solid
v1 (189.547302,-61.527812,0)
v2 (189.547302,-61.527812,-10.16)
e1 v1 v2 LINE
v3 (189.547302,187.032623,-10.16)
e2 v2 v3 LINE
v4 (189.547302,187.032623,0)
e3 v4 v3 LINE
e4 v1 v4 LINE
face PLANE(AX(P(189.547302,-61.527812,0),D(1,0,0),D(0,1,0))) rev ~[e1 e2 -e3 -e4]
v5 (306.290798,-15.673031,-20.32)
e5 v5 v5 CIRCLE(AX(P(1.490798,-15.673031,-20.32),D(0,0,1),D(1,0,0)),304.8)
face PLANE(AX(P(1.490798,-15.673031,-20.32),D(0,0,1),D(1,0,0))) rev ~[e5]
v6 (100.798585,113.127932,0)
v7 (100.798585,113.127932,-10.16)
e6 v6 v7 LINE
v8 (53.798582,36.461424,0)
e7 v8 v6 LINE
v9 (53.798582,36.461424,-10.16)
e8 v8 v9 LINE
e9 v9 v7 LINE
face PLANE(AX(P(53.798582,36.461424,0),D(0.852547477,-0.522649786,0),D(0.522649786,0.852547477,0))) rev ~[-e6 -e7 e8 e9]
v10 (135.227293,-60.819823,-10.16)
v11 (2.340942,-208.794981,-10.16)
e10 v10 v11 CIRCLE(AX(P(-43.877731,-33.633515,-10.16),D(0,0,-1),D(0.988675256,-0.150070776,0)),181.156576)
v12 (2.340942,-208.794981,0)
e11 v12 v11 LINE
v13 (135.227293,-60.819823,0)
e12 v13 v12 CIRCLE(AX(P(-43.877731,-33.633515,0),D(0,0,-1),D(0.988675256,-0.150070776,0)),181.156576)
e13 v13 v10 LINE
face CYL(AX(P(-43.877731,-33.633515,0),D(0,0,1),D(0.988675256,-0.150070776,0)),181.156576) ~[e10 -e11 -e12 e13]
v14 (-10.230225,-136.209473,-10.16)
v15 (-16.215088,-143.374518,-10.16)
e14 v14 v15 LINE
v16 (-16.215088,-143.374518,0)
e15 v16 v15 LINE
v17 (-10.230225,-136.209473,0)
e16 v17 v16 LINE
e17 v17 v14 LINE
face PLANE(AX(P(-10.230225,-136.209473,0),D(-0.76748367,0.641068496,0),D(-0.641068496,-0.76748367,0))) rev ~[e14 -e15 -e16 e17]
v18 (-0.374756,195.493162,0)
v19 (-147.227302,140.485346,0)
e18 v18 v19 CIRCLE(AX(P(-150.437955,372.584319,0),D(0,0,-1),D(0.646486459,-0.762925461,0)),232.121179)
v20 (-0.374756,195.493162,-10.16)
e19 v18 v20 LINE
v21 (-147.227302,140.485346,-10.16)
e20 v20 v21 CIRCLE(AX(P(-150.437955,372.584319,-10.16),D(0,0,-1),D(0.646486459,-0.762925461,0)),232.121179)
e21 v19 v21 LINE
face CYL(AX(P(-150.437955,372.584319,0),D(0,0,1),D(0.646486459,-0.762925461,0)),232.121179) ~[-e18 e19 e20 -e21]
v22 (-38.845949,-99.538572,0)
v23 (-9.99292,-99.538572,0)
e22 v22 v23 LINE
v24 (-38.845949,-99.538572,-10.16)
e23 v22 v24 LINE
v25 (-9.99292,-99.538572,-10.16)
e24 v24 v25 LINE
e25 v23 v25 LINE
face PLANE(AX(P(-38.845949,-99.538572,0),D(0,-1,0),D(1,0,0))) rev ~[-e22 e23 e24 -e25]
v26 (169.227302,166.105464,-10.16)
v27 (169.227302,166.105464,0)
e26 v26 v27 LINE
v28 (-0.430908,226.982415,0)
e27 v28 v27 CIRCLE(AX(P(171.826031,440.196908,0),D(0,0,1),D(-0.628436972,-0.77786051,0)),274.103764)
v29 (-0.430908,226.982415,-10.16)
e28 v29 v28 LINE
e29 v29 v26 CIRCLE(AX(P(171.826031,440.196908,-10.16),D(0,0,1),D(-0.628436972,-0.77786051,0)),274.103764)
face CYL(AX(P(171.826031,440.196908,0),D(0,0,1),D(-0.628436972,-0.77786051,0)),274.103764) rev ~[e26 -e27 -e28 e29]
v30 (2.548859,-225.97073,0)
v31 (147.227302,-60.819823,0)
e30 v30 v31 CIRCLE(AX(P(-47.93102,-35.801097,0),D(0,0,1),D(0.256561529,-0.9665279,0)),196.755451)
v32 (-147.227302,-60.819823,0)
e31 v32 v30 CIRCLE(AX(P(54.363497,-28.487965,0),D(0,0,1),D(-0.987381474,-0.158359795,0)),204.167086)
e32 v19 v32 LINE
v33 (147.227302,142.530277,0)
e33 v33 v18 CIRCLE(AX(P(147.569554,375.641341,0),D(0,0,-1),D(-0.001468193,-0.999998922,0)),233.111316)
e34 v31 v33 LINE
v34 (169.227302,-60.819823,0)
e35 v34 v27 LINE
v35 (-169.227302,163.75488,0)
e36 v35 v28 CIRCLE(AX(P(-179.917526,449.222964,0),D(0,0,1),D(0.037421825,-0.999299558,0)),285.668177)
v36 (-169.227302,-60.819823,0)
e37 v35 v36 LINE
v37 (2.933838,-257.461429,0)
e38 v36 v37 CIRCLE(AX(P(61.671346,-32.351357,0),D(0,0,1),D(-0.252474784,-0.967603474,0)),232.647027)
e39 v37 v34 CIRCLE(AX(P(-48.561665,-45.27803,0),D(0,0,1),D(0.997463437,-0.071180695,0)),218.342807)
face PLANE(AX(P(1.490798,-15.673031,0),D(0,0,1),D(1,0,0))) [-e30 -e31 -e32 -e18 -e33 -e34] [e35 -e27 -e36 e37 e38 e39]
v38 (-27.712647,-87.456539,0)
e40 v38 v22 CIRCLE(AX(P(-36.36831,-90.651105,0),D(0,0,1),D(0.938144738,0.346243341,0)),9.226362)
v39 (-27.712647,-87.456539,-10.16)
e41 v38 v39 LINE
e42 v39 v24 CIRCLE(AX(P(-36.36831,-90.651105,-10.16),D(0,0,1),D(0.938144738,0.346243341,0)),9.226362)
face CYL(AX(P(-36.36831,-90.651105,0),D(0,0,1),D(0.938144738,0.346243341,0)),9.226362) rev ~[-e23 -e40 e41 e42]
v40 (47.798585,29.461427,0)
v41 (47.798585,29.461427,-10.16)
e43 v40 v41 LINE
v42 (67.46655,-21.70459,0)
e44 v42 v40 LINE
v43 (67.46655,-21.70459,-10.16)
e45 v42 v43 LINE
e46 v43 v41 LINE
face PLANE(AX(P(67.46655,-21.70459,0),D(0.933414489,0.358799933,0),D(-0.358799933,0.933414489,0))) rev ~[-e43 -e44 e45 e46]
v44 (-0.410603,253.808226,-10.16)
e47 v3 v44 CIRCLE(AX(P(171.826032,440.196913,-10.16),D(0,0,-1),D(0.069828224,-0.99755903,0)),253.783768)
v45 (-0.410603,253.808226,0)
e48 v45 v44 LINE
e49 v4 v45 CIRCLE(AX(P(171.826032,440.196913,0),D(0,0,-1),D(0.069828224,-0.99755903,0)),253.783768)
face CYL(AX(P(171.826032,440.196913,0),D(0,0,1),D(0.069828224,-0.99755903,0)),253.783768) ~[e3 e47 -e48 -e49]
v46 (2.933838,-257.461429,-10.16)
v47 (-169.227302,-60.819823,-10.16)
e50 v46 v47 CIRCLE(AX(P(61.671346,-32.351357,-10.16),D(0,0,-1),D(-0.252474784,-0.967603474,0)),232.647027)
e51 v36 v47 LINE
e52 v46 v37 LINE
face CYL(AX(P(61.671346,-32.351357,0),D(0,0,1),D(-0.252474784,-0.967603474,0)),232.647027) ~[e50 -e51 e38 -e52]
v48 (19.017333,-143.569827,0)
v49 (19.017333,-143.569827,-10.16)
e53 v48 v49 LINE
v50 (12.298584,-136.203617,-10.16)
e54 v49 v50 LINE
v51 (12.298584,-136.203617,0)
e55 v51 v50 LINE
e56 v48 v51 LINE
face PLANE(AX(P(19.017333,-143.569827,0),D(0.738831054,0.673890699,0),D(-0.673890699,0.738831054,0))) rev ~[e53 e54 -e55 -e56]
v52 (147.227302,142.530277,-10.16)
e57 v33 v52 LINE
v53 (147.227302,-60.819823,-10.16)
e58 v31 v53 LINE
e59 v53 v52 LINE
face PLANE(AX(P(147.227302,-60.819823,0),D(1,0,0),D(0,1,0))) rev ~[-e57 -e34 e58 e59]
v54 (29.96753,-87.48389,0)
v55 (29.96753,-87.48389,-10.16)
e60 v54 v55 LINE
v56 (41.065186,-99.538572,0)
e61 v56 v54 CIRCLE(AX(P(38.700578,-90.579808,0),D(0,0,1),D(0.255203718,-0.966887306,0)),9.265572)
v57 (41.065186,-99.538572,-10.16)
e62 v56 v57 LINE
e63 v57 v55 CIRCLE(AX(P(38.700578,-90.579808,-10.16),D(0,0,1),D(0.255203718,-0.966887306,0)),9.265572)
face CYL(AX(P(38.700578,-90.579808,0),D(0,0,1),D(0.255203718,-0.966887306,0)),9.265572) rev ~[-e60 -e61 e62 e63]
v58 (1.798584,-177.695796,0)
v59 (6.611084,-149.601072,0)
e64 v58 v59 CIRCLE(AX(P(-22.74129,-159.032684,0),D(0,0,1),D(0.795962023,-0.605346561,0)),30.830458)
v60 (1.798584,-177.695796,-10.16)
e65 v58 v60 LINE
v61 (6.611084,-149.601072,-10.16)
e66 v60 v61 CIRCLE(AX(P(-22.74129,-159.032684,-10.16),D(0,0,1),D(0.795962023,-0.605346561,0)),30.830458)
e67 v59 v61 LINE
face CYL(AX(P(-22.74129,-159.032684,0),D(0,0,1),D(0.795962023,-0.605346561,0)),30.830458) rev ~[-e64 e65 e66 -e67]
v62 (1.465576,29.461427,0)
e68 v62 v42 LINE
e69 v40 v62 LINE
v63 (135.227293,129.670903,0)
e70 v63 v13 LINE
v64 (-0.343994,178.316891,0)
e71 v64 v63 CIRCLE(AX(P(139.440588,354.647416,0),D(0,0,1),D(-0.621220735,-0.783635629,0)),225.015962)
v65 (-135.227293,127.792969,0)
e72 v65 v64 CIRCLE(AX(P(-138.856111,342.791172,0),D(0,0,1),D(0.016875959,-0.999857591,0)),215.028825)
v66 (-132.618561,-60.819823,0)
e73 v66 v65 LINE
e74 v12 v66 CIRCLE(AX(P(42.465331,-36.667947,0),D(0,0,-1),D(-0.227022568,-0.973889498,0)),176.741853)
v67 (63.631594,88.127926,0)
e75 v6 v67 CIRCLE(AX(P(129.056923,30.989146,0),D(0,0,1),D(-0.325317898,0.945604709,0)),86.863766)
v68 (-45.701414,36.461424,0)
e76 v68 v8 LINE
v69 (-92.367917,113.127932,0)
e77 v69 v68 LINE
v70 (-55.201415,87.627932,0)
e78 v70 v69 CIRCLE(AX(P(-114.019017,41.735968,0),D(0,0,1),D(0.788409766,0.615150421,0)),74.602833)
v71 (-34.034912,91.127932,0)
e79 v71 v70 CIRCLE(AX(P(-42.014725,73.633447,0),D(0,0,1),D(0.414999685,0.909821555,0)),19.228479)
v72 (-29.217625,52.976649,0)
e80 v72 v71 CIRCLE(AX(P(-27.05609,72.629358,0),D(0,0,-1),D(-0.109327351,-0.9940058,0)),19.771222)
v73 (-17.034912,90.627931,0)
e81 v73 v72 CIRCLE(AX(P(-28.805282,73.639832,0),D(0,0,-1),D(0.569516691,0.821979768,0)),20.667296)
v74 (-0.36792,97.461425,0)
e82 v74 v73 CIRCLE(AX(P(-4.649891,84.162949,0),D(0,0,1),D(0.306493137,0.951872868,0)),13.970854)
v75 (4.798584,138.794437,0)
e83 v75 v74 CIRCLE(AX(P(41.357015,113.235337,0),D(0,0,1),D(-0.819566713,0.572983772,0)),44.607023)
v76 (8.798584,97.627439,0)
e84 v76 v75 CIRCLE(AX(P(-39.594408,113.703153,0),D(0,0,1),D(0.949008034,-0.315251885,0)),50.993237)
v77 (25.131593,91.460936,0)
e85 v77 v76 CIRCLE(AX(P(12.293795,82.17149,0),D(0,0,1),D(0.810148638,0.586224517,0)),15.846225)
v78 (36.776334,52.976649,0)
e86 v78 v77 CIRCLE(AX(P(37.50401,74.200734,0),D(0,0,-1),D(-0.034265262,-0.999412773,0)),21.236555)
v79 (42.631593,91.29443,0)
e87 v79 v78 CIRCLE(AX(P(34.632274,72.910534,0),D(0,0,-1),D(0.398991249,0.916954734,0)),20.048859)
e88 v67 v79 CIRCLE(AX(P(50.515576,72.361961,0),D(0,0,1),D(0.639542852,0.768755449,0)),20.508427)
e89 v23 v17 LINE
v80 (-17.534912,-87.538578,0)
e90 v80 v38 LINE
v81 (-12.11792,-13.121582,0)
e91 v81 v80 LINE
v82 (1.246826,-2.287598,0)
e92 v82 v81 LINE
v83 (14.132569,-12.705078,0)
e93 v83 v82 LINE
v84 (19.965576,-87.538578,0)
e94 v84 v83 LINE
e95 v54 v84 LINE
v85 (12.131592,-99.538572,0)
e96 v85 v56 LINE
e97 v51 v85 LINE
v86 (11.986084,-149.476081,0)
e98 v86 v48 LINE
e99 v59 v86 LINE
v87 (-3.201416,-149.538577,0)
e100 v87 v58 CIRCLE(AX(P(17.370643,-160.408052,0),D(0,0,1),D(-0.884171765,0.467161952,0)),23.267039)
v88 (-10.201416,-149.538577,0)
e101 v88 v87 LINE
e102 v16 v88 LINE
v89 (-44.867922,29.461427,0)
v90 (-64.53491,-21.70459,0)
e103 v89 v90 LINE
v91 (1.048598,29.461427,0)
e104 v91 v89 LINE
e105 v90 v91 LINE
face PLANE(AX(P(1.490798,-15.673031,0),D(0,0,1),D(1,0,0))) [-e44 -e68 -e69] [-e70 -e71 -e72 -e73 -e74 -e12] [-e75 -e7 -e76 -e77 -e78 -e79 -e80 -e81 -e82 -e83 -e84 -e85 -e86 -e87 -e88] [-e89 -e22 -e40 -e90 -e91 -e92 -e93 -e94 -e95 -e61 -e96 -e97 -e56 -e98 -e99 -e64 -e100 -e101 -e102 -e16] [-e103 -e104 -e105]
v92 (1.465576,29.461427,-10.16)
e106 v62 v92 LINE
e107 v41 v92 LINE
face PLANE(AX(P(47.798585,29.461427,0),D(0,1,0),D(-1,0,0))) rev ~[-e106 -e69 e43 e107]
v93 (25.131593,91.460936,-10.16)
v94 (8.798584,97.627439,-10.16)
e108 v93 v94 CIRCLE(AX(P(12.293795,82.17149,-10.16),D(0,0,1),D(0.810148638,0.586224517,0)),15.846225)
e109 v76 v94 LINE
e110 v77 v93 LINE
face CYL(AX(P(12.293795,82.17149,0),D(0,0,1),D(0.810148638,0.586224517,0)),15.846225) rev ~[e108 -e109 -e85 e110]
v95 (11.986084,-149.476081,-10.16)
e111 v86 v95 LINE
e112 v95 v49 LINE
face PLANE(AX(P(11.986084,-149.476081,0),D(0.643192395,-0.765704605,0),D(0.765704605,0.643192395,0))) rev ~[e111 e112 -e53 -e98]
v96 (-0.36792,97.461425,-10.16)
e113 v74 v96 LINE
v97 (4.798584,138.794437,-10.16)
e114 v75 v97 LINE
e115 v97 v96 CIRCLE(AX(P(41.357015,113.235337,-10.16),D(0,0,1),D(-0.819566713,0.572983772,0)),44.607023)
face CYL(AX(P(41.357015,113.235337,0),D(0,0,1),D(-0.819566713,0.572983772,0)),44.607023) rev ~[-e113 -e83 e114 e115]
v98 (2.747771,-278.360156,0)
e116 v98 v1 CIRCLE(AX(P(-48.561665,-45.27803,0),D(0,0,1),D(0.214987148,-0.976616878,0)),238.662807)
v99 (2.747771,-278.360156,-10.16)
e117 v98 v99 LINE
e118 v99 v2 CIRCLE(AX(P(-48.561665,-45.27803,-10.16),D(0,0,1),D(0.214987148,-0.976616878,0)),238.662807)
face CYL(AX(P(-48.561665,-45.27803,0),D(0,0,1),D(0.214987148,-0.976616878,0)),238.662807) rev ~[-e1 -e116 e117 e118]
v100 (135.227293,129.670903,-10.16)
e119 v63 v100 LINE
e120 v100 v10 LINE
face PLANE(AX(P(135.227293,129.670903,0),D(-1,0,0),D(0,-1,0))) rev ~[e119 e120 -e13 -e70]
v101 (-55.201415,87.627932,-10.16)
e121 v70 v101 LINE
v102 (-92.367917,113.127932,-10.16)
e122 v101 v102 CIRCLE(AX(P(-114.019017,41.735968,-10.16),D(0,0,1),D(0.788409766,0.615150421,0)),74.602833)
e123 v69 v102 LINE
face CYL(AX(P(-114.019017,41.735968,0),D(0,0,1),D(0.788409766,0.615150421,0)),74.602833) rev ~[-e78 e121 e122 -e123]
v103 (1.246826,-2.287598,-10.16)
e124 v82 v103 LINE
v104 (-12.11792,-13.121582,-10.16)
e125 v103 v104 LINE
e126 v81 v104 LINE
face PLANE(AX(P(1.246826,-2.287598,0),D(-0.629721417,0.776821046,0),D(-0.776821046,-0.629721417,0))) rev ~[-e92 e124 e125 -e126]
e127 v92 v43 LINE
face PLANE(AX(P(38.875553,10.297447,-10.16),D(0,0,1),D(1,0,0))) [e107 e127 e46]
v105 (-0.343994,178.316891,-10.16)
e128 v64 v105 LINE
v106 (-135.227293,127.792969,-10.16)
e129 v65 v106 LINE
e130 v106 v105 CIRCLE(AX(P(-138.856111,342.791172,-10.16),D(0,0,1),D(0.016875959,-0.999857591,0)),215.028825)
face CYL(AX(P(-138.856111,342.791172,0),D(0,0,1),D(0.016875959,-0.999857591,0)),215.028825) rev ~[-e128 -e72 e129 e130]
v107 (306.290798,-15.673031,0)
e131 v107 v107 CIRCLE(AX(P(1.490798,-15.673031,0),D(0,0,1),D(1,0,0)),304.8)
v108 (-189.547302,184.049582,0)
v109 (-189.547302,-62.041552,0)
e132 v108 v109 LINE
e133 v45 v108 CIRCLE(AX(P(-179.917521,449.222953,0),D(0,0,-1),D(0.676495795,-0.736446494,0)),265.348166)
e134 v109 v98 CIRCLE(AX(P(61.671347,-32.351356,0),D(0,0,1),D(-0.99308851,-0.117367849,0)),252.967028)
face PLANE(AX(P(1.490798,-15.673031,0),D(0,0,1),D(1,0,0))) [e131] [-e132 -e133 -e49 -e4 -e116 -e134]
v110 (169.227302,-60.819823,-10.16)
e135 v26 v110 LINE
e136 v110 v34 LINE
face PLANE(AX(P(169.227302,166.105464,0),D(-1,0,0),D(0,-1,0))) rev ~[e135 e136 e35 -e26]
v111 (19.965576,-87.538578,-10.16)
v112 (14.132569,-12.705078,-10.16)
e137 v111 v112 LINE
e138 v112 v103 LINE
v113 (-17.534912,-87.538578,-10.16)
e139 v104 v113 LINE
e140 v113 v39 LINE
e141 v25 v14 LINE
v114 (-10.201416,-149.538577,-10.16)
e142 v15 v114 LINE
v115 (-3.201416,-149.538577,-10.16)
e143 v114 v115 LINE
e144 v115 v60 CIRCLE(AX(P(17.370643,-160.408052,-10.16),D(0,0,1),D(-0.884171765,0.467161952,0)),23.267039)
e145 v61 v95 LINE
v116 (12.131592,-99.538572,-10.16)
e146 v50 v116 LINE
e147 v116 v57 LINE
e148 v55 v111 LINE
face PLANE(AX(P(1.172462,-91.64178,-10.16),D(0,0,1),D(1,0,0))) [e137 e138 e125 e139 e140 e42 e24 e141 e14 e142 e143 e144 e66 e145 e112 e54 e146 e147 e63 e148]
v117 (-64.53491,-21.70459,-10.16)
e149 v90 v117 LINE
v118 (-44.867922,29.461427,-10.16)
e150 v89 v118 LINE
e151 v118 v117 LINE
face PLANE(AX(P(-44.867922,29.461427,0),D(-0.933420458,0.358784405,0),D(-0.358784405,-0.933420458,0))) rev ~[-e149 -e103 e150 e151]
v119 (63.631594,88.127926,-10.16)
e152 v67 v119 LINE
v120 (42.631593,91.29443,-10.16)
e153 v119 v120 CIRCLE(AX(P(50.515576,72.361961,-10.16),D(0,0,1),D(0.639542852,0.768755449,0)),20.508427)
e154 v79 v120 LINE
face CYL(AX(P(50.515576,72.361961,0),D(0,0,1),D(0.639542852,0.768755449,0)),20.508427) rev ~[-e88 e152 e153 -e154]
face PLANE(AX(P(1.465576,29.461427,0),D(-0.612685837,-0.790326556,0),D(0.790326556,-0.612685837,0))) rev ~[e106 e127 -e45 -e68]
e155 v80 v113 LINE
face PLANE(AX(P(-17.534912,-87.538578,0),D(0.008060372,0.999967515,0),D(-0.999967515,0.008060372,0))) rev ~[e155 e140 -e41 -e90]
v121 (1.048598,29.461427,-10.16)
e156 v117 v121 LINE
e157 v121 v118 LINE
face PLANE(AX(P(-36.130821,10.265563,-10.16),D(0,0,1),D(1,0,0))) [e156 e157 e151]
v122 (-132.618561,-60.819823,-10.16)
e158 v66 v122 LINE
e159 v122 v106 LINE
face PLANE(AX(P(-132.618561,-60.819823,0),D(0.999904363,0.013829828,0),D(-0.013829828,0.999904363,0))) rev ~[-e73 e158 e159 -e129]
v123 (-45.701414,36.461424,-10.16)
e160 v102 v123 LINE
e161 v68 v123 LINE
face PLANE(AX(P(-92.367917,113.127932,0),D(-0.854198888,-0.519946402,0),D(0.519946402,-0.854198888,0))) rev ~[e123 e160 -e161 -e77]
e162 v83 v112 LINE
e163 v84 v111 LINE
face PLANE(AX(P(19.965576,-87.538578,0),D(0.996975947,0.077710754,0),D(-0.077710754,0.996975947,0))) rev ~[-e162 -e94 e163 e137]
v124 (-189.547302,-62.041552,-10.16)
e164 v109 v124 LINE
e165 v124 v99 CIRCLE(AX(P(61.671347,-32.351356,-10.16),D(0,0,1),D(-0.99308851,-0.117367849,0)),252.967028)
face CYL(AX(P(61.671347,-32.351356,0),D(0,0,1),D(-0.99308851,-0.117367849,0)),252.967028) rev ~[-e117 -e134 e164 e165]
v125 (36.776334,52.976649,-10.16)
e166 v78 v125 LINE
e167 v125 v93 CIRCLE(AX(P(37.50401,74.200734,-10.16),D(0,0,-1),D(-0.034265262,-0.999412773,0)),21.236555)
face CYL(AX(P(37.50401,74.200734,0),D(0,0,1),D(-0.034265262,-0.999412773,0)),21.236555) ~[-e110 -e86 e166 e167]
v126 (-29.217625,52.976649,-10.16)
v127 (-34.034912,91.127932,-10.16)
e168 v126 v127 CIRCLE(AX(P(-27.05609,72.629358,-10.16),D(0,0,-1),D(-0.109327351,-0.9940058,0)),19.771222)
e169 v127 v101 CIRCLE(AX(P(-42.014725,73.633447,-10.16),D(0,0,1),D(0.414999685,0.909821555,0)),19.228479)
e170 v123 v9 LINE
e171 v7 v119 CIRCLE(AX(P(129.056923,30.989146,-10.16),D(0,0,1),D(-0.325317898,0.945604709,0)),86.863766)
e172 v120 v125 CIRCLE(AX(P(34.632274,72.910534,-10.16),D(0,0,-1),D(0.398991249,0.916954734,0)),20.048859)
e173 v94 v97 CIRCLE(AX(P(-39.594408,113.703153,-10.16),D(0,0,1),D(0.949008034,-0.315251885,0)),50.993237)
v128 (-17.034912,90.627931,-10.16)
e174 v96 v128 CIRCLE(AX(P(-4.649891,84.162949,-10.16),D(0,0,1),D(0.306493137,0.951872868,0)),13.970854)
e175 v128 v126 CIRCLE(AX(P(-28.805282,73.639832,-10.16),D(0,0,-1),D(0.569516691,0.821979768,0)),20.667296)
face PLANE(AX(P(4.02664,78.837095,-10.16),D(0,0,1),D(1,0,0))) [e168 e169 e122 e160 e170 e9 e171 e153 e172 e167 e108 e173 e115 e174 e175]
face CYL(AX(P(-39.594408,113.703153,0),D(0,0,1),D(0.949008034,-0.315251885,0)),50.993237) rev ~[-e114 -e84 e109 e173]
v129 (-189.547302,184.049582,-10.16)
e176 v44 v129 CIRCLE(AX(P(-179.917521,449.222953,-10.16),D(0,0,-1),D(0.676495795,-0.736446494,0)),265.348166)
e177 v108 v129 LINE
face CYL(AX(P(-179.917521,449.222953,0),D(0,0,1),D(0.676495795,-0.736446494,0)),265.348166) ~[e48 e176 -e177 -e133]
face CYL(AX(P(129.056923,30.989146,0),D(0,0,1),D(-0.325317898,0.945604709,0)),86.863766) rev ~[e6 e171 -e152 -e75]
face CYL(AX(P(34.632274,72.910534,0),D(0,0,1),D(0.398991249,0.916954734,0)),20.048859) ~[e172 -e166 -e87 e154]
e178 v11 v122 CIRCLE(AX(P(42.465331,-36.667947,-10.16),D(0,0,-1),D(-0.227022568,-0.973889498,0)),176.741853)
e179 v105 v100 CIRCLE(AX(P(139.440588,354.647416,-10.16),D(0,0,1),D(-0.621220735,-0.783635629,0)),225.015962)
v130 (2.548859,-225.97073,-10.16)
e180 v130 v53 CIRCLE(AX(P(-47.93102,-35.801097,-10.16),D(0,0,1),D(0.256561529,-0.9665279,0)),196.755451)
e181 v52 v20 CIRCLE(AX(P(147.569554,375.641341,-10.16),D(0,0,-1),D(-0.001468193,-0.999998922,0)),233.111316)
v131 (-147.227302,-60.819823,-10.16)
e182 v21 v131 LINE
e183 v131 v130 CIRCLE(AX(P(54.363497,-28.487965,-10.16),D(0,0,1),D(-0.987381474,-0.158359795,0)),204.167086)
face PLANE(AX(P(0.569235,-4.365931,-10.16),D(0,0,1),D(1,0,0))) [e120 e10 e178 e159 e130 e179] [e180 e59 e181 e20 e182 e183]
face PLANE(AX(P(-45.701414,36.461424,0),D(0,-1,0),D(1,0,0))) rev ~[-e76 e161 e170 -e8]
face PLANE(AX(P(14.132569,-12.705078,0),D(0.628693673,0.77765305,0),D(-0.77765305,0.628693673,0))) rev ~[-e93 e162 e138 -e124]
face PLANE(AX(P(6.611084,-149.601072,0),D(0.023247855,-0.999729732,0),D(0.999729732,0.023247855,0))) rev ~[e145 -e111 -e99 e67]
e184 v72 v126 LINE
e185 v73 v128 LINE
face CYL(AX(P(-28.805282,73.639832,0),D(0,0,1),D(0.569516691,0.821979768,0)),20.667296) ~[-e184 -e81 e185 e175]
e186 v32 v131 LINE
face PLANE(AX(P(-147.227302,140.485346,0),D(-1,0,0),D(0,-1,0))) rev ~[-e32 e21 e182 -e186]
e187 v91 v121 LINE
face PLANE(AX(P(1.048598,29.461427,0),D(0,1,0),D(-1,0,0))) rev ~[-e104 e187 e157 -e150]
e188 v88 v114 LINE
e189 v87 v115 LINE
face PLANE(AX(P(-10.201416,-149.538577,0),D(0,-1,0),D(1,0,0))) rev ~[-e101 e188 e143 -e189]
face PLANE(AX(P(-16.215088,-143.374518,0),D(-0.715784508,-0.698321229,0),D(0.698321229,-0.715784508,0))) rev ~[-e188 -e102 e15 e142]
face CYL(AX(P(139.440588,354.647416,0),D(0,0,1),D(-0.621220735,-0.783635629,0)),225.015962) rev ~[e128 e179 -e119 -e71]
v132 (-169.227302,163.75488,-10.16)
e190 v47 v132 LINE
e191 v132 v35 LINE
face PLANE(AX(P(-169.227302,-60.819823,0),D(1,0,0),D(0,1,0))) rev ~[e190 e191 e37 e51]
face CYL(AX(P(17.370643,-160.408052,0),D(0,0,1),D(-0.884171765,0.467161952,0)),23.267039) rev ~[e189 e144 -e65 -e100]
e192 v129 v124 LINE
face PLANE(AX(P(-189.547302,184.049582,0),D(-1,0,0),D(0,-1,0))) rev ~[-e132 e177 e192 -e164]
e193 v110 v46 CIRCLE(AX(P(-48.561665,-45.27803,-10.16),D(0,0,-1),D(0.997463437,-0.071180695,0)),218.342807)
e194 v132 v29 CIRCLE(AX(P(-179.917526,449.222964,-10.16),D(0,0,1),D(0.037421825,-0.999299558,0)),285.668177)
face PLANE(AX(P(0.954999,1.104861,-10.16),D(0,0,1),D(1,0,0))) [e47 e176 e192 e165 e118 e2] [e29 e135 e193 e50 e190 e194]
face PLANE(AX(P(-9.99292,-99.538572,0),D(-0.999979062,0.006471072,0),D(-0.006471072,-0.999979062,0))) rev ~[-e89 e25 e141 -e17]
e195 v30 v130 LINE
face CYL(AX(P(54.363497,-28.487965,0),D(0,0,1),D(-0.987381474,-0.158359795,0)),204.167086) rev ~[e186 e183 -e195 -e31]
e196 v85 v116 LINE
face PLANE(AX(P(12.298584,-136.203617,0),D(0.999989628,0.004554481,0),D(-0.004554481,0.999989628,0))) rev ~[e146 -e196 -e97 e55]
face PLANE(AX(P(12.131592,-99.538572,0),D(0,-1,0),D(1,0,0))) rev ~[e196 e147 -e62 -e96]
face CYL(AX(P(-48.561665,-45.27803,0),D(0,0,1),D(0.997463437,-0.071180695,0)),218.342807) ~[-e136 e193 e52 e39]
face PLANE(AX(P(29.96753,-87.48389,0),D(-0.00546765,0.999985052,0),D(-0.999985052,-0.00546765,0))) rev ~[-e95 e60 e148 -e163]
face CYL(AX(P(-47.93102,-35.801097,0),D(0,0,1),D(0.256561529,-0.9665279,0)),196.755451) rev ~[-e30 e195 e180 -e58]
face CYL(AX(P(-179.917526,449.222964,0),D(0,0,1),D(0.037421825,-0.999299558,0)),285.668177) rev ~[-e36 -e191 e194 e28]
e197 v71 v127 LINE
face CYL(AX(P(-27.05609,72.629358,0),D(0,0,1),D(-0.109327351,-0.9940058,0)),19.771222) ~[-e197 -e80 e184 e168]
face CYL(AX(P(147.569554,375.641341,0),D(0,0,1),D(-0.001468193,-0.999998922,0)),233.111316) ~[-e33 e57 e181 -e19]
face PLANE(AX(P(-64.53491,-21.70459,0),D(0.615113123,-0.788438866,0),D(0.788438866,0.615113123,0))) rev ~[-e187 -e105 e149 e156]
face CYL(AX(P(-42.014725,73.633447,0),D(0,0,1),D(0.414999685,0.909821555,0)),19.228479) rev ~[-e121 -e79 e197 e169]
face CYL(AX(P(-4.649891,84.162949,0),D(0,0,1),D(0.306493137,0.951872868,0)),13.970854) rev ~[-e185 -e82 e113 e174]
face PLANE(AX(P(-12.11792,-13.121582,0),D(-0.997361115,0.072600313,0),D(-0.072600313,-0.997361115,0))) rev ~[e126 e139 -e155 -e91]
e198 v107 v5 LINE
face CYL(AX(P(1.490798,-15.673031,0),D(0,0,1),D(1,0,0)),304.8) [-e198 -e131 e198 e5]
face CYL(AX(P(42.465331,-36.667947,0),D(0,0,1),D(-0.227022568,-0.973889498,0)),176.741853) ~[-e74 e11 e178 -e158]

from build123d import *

# Parameters (mm, degrees)
F2_DEPTH  = 31.75
F4_DEPTH  = 11.43
F6_DEPTH  = 8.89
F8_DEPTH  = 8.89
F10_DEPTH = 8.89
F12_DEPTH = 8.89
F13_R     = 304.8
F14_DEPTH = 20.32
F16_DEPTH = 10.16
F18_DEPTH = 10.16
F20_DEPTH = 10.16
F22_DEPTH = 10.16
F24_DEPTH = 10.16
F26_DEPTH = 10.16
F27_R     = 304.8
F28_DEPTH = 38.1


with BuildPart() as f2:
    # F1 (on Top) → F2 (new body)
    with BuildSketch(Plane.XY):
        with BuildLine():
            ThreePointArc((-0.430908, 226.982415), (-79.711548, 181.706479), (-169.227302, 163.75488))
            Line((-169.227302, 163.75488), (-169.227302, -60.819823))
            ThreePointArc((-169.227302, -60.819823), (-113.369381, -185.600772), (2.933838, -257.461429))
            ThreePointArc((2.933838, -257.461429), (118.158195, -186.267639), (169.227302, -60.819823))
            Line((169.227302, -60.819823), (169.227302, 166.105464))
            ThreePointArc((169.227302, 166.105464), (79.251051, 182.199338), (-0.430908, 226.982415))
        make_face()
    extrude(amount=F2_DEPTH)

    # F3 (on face) → F4 (cut)
    with BuildSketch(Plane.XY.offset(31.75)):
        with BuildLine():
            ThreePointArc((-0.374756, 195.493162), (-69.015087, 155.212384), (-147.227302, 140.485346))
            Line((-147.227302, 140.485346), (-147.227302, -60.819823))
            ThreePointArc((-147.227302, -60.819823), (-96.87236, -165.644499), (2.548859, -225.97073))
            ThreePointArc((2.548859, -225.97073), (100.066402, -165.452439), (147.227302, -60.819823))
            Line((147.227302, -60.819823), (147.227302, 142.530277))
            ThreePointArc((147.227302, 142.530277), (68.839046, 156.227594), (-0.374756, 195.493162))
        make_face()
        with BuildLine():
            Line((-132.618561, -60.819823), (-135.227293, 127.792969))
            ThreePointArc((-135.227293, 127.792969), (-63.429471, 141.425292), (-0.343994, 178.316891))
            ThreePointArc((-0.343994, 178.316891), (63.444172, 142.853346), (135.227293, 129.670903))
            Line((135.227293, 129.670903), (135.227293, -60.819823))
            ThreePointArc((135.227293, -60.819823), (90.906741, -154.674215), (2.340942, -208.794981))
            ThreePointArc((2.340942, -208.794981), (-88.121088, -155.768197), (-132.618561, -60.819823))
        make_face(mode=Mode.SUBTRACT)
    extrude(amount=-F4_DEPTH, mode=Mode.SUBTRACT)

    # F5 (on face) → F6 (cut)
    with BuildSketch(Plane.XY.offset(31.75)):
        with BuildLine():
            Line((-92.367917, 113.127932), (-45.701414, 36.461424))
            Line((-45.701414, 36.461424), (53.798582, 36.461424))
            Line((53.798582, 36.461424), (100.798585, 113.127932))
            ThreePointArc((100.798585, 113.127932), (80.575922, 103.064845), (63.631594, 88.127926))
            ThreePointArc((63.631594, 88.127926), (53.573391, 92.641146), (42.631593, 91.29443))
            ThreePointArc((42.631593, 91.29443), (54.451081, 69.882064), (36.776334, 52.976649))
            ThreePointArc((36.776334, 52.976649), (17.177594, 68.050279), (25.131593, 91.460936))
            ThreePointArc((25.131593, 91.460936), (17.890886, 96.996315), (8.798584, 97.627439))
            ThreePointArc((8.798584, 97.627439), (11.159805, 118.634697), (4.798584, 138.794437))
            ThreePointArc((4.798584, 138.794437), (-2.905563, 118.768028), (-0.36792, 97.461425))
            ThreePointArc((-0.36792, 97.461425), (-9.949798, 97.0895), (-17.034912, 90.627931))
            ThreePointArc((-17.034912, 90.627931), (-9.141713, 67.277349), (-29.217625, 52.976649))
            ThreePointArc((-29.217625, 52.976649), (-46.671559, 70.152552), (-34.034912, 91.127932))
            ThreePointArc((-34.034912, 91.127932), (-45.151665, 92.60432), (-55.201415, 87.627932))
            ThreePointArc((-55.201415, 87.627932), (-71.812791, 103.251959), (-92.367917, 113.127932))
        make_face()
    extrude(amount=-F6_DEPTH, mode=Mode.SUBTRACT)

    # F7 (on face) → F8 (cut)
    with BuildSketch(Plane.XY.offset(31.75)):
        Polygon((1.882065, 29.461427), (67.46655, -21.70459), (47.798585, 29.461427), align=None)
    extrude(amount=-F8_DEPTH, mode=Mode.SUBTRACT)

    # F9 (on face) → F10 (cut)
    with BuildSketch(Plane.XY.offset(31.75)):
        Polygon((1.048598, 29.461427), (-44.867922, 29.461427), (-64.53491, -21.70459), align=None)
    extrude(amount=-F10_DEPTH, mode=Mode.SUBTRACT)

    # F11 (on face) → F12 (cut)
    with BuildSketch(Plane.XY.offset(31.75)):
        with BuildLine():
            Line((1.246826, -2.287598), (-12.11792, -13.121582))
            Line((-12.11792, -13.121582), (-17.534912, -87.538578))
            Line((-17.534912, -87.538578), (-27.712647, -87.456539))
            ThreePointArc((-27.712647, -87.456539), (-43.153284, -84.398915), (-38.845949, -99.538572))
            Line((-38.845949, -99.538572), (-9.99292, -99.538572))
            Line((-9.99292, -99.538572), (-10.230225, -136.209473))
            Line((-10.230225, -136.209473), (-16.215088, -143.374518))
            Line((-16.215088, -143.374518), (-10.201416, -149.538577))
            Line((-10.201416, -149.538577), (-3.201416, -149.538577))
            ThreePointArc((-3.201416, -149.538577), (-5.538014, -164.476042), (1.798584, -177.695796))
            ThreePointArc((1.798584, -177.695796), (7.646569, -164.237988), (6.611084, -149.601072))
            Line((6.611084, -149.601072), (11.986084, -149.476081))
            Line((11.986084, -149.476081), (19.017333, -143.569827))
            Line((19.017333, -143.569827), (12.298584, -136.203617))
            Line((12.298584, -136.203617), (12.131592, -99.538572))
            Line((12.131592, -99.538572), (41.065186, -99.538572))
            ThreePointArc((41.065186, -99.538572), (45.517328, -84.304241), (29.96753, -87.48389))
            Line((29.96753, -87.48389), (19.965576, -87.538578))
            Line((19.965576, -87.538578), (14.132569, -12.705078))
            Line((14.132569, -12.705078), (1.246826, -2.287598))
        make_face()
    extrude(amount=-F12_DEPTH, mode=Mode.SUBTRACT)

    # F13 (on face) → F14 (join)
    with BuildSketch(Plane.XY):
        with Locations((1.490798, -15.673031)):
            Circle(F13_R)
    extrude(amount=-F14_DEPTH)

    # F15 (on face) → F16 (cut)
    with BuildSketch(Plane.XY):
        with BuildLine():
            Line((-189.547302, 184.049582), (-189.547302, -62.041552))
            ThreePointArc((-189.547302, -62.041552), (-127.393416, -200.419297), (2.747771, -278.360156))
            ThreePointArc((2.747771, -278.360156), (132.255423, -201.050673), (189.547302, -61.527812))
            Line((189.547302, -61.527812), (189.547302, 187.032623))
            ThreePointArc((189.547302, 187.032623), (87.662532, 200.775305), (-0.410603, 253.808226))
            ThreePointArc((-0.410603, 253.808226), (-88.09635, 200.268094), (-189.547302, 184.049582))
        make_face()
        with BuildLine():
            Line((-169.227302, -60.819823), (-169.227302, 163.75488))
            ThreePointArc((-169.227302, 163.75488), (-79.711548, 181.706479), (-0.430908, 226.982415))
            ThreePointArc((-0.430908, 226.982415), (79.251051, 182.199338), (169.227302, 166.105464))
            Line((169.227302, 166.105464), (169.227302, -60.819823))
            ThreePointArc((169.227302, -60.819823), (118.158195, -186.267639), (2.933838, -257.461429))
            ThreePointArc((2.933838, -257.461429), (-113.369381, -185.600772), (-169.227302, -60.819823))
        make_face(mode=Mode.SUBTRACT)
    extrude(amount=-F16_DEPTH, mode=Mode.SUBTRACT)

    # F17 (on face) → F18 (cut)
    with BuildSketch(Plane.XY):
        with BuildLine():
            ThreePointArc((-0.374756, 195.493162), (-69.015087, 155.212384), (-147.227302, 140.485346))
            Line((-147.227302, 140.485346), (-147.227302, -60.819823))
            ThreePointArc((-147.227302, -60.819823), (-96.87236, -165.644499), (2.548859, -225.97073))
            ThreePointArc((2.548859, -225.97073), (100.066402, -165.452439), (147.227302, -60.819823))
            Line((147.227302, -60.819823), (147.227302, 142.530277))
            ThreePointArc((147.227302, 142.530277), (68.839046, 156.227594), (-0.374756, 195.493162))
        make_face()
        with BuildLine():
            Line((-132.618561, -60.819823), (-135.227293, 127.792969))
            ThreePointArc((-135.227293, 127.792969), (-63.429471, 141.425292), (-0.343994, 178.316891))
            ThreePointArc((-0.343994, 178.316891), (63.444172, 142.853346), (135.227293, 129.670903))
            Line((135.227293, 129.670903), (135.227293, -60.819823))
            ThreePointArc((135.227293, -60.819823), (90.906741, -154.674215), (2.340942, -208.794981))
            ThreePointArc((2.340942, -208.794981), (-88.121088, -155.768197), (-132.618561, -60.819823))
        make_face(mode=Mode.SUBTRACT)
    extrude(amount=-F18_DEPTH, mode=Mode.SUBTRACT)

    # F19 (on face) → F20 (cut)
    with BuildSketch(Plane.XY):
        with BuildLine():
            Line((19.965576, -87.538578), (14.132569, -12.705078))
            Line((14.132569, -12.705078), (1.246826, -2.287598))
            Line((1.246826, -2.287598), (-12.11792, -13.121582))
            Line((-12.11792, -13.121582), (-17.534912, -87.538578))
            Line((-17.534912, -87.538578), (-27.712647, -87.456539))
            ThreePointArc((-27.712647, -87.456539), (-43.153284, -84.398915), (-38.845949, -99.538572))
            Line((-38.845949, -99.538572), (-9.99292, -99.538572))
            Line((-9.99292, -99.538572), (-10.230225, -136.209473))
            Line((-10.230225, -136.209473), (-16.215088, -143.374518))
            Line((-16.215088, -143.374518), (-10.201416, -149.538577))
            Line((-10.201416, -149.538577), (-3.201416, -149.538577))
            ThreePointArc((-3.201416, -149.538577), (-5.538014, -164.476042), (1.798584, -177.695796))
            ThreePointArc((1.798584, -177.695796), (7.646569, -164.237988), (6.611084, -149.601072))
            Line((6.611084, -149.601072), (11.986084, -149.476081))
            Line((11.986084, -149.476081), (19.017333, -143.569827))
            Line((19.017333, -143.569827), (12.298584, -136.203617))
            Line((12.298584, -136.203617), (12.131592, -99.538572))
            Line((12.131592, -99.538572), (41.065186, -99.538572))
            ThreePointArc((41.065186, -99.538572), (45.517328, -84.304241), (29.96753, -87.48389))
            Line((29.96753, -87.48389), (19.965576, -87.538578))
        make_face()
    extrude(amount=-F20_DEPTH, mode=Mode.SUBTRACT)

    # F21 (on face) → F22 (cut)
    with BuildSketch(Plane.XY):
        Polygon((1.048598, 29.461427), (-44.867922, 29.461427), (-64.53491, -21.70459), align=None)
    extrude(amount=-F22_DEPTH, mode=Mode.SUBTRACT)

    # F23 (on face) → F24 (cut)
    with BuildSketch(Plane.XY):
        Polygon((47.798585, 29.461427), (1.465576, 29.461427), (67.46655, -21.70459), align=None)
    extrude(amount=-F24_DEPTH, mode=Mode.SUBTRACT)

    # F25 (on face) → F26 (cut)
    with BuildSketch(Plane.XY):
        with BuildLine():
            ThreePointArc((-34.034912, 91.127932), (-45.151665, 92.60432), (-55.201415, 87.627932))
            ThreePointArc((-55.201415, 87.627932), (-71.812791, 103.251959), (-92.367917, 113.127932))
            Line((-92.367917, 113.127932), (-45.701414, 36.461424))
            Line((-45.701414, 36.461424), (53.798582, 36.461424))
            Line((53.798582, 36.461424), (100.798585, 113.127932))
            ThreePointArc((100.798585, 113.127932), (80.575922, 103.064845), (63.631594, 88.127926))
            ThreePointArc((63.631594, 88.127926), (53.573391, 92.641146), (42.631593, 91.29443))
            ThreePointArc((42.631593, 91.29443), (54.451081, 69.882064), (36.776334, 52.976649))
            ThreePointArc((36.776334, 52.976649), (17.177594, 68.050279), (25.131593, 91.460936))
            ThreePointArc((25.131593, 91.460936), (17.890886, 96.996315), (8.798584, 97.627439))
            ThreePointArc((8.798584, 97.627439), (11.159805, 118.634697), (4.798584, 138.794437))
            ThreePointArc((4.798584, 138.794437), (-2.905563, 118.768028), (-0.36792, 97.461425))
            ThreePointArc((-0.36792, 97.461425), (-9.949798, 97.0895), (-17.034912, 90.627931))
            ThreePointArc((-17.034912, 90.627931), (-9.141713, 67.277349), (-29.217625, 52.976649))
            ThreePointArc((-29.217625, 52.976649), (-46.671559, 70.152552), (-34.034912, 91.127932))
        make_face()
    extrude(amount=-F26_DEPTH, mode=Mode.SUBTRACT)

    # F27 (on face) → F28 (cut)
    with BuildSketch(Plane.XY):
        with Locations((1.490798, -15.673031)):
            Circle(F27_R)
    extrude(amount=F28_DEPTH, mode=Mode.SUBTRACT)


solid = f2.part
